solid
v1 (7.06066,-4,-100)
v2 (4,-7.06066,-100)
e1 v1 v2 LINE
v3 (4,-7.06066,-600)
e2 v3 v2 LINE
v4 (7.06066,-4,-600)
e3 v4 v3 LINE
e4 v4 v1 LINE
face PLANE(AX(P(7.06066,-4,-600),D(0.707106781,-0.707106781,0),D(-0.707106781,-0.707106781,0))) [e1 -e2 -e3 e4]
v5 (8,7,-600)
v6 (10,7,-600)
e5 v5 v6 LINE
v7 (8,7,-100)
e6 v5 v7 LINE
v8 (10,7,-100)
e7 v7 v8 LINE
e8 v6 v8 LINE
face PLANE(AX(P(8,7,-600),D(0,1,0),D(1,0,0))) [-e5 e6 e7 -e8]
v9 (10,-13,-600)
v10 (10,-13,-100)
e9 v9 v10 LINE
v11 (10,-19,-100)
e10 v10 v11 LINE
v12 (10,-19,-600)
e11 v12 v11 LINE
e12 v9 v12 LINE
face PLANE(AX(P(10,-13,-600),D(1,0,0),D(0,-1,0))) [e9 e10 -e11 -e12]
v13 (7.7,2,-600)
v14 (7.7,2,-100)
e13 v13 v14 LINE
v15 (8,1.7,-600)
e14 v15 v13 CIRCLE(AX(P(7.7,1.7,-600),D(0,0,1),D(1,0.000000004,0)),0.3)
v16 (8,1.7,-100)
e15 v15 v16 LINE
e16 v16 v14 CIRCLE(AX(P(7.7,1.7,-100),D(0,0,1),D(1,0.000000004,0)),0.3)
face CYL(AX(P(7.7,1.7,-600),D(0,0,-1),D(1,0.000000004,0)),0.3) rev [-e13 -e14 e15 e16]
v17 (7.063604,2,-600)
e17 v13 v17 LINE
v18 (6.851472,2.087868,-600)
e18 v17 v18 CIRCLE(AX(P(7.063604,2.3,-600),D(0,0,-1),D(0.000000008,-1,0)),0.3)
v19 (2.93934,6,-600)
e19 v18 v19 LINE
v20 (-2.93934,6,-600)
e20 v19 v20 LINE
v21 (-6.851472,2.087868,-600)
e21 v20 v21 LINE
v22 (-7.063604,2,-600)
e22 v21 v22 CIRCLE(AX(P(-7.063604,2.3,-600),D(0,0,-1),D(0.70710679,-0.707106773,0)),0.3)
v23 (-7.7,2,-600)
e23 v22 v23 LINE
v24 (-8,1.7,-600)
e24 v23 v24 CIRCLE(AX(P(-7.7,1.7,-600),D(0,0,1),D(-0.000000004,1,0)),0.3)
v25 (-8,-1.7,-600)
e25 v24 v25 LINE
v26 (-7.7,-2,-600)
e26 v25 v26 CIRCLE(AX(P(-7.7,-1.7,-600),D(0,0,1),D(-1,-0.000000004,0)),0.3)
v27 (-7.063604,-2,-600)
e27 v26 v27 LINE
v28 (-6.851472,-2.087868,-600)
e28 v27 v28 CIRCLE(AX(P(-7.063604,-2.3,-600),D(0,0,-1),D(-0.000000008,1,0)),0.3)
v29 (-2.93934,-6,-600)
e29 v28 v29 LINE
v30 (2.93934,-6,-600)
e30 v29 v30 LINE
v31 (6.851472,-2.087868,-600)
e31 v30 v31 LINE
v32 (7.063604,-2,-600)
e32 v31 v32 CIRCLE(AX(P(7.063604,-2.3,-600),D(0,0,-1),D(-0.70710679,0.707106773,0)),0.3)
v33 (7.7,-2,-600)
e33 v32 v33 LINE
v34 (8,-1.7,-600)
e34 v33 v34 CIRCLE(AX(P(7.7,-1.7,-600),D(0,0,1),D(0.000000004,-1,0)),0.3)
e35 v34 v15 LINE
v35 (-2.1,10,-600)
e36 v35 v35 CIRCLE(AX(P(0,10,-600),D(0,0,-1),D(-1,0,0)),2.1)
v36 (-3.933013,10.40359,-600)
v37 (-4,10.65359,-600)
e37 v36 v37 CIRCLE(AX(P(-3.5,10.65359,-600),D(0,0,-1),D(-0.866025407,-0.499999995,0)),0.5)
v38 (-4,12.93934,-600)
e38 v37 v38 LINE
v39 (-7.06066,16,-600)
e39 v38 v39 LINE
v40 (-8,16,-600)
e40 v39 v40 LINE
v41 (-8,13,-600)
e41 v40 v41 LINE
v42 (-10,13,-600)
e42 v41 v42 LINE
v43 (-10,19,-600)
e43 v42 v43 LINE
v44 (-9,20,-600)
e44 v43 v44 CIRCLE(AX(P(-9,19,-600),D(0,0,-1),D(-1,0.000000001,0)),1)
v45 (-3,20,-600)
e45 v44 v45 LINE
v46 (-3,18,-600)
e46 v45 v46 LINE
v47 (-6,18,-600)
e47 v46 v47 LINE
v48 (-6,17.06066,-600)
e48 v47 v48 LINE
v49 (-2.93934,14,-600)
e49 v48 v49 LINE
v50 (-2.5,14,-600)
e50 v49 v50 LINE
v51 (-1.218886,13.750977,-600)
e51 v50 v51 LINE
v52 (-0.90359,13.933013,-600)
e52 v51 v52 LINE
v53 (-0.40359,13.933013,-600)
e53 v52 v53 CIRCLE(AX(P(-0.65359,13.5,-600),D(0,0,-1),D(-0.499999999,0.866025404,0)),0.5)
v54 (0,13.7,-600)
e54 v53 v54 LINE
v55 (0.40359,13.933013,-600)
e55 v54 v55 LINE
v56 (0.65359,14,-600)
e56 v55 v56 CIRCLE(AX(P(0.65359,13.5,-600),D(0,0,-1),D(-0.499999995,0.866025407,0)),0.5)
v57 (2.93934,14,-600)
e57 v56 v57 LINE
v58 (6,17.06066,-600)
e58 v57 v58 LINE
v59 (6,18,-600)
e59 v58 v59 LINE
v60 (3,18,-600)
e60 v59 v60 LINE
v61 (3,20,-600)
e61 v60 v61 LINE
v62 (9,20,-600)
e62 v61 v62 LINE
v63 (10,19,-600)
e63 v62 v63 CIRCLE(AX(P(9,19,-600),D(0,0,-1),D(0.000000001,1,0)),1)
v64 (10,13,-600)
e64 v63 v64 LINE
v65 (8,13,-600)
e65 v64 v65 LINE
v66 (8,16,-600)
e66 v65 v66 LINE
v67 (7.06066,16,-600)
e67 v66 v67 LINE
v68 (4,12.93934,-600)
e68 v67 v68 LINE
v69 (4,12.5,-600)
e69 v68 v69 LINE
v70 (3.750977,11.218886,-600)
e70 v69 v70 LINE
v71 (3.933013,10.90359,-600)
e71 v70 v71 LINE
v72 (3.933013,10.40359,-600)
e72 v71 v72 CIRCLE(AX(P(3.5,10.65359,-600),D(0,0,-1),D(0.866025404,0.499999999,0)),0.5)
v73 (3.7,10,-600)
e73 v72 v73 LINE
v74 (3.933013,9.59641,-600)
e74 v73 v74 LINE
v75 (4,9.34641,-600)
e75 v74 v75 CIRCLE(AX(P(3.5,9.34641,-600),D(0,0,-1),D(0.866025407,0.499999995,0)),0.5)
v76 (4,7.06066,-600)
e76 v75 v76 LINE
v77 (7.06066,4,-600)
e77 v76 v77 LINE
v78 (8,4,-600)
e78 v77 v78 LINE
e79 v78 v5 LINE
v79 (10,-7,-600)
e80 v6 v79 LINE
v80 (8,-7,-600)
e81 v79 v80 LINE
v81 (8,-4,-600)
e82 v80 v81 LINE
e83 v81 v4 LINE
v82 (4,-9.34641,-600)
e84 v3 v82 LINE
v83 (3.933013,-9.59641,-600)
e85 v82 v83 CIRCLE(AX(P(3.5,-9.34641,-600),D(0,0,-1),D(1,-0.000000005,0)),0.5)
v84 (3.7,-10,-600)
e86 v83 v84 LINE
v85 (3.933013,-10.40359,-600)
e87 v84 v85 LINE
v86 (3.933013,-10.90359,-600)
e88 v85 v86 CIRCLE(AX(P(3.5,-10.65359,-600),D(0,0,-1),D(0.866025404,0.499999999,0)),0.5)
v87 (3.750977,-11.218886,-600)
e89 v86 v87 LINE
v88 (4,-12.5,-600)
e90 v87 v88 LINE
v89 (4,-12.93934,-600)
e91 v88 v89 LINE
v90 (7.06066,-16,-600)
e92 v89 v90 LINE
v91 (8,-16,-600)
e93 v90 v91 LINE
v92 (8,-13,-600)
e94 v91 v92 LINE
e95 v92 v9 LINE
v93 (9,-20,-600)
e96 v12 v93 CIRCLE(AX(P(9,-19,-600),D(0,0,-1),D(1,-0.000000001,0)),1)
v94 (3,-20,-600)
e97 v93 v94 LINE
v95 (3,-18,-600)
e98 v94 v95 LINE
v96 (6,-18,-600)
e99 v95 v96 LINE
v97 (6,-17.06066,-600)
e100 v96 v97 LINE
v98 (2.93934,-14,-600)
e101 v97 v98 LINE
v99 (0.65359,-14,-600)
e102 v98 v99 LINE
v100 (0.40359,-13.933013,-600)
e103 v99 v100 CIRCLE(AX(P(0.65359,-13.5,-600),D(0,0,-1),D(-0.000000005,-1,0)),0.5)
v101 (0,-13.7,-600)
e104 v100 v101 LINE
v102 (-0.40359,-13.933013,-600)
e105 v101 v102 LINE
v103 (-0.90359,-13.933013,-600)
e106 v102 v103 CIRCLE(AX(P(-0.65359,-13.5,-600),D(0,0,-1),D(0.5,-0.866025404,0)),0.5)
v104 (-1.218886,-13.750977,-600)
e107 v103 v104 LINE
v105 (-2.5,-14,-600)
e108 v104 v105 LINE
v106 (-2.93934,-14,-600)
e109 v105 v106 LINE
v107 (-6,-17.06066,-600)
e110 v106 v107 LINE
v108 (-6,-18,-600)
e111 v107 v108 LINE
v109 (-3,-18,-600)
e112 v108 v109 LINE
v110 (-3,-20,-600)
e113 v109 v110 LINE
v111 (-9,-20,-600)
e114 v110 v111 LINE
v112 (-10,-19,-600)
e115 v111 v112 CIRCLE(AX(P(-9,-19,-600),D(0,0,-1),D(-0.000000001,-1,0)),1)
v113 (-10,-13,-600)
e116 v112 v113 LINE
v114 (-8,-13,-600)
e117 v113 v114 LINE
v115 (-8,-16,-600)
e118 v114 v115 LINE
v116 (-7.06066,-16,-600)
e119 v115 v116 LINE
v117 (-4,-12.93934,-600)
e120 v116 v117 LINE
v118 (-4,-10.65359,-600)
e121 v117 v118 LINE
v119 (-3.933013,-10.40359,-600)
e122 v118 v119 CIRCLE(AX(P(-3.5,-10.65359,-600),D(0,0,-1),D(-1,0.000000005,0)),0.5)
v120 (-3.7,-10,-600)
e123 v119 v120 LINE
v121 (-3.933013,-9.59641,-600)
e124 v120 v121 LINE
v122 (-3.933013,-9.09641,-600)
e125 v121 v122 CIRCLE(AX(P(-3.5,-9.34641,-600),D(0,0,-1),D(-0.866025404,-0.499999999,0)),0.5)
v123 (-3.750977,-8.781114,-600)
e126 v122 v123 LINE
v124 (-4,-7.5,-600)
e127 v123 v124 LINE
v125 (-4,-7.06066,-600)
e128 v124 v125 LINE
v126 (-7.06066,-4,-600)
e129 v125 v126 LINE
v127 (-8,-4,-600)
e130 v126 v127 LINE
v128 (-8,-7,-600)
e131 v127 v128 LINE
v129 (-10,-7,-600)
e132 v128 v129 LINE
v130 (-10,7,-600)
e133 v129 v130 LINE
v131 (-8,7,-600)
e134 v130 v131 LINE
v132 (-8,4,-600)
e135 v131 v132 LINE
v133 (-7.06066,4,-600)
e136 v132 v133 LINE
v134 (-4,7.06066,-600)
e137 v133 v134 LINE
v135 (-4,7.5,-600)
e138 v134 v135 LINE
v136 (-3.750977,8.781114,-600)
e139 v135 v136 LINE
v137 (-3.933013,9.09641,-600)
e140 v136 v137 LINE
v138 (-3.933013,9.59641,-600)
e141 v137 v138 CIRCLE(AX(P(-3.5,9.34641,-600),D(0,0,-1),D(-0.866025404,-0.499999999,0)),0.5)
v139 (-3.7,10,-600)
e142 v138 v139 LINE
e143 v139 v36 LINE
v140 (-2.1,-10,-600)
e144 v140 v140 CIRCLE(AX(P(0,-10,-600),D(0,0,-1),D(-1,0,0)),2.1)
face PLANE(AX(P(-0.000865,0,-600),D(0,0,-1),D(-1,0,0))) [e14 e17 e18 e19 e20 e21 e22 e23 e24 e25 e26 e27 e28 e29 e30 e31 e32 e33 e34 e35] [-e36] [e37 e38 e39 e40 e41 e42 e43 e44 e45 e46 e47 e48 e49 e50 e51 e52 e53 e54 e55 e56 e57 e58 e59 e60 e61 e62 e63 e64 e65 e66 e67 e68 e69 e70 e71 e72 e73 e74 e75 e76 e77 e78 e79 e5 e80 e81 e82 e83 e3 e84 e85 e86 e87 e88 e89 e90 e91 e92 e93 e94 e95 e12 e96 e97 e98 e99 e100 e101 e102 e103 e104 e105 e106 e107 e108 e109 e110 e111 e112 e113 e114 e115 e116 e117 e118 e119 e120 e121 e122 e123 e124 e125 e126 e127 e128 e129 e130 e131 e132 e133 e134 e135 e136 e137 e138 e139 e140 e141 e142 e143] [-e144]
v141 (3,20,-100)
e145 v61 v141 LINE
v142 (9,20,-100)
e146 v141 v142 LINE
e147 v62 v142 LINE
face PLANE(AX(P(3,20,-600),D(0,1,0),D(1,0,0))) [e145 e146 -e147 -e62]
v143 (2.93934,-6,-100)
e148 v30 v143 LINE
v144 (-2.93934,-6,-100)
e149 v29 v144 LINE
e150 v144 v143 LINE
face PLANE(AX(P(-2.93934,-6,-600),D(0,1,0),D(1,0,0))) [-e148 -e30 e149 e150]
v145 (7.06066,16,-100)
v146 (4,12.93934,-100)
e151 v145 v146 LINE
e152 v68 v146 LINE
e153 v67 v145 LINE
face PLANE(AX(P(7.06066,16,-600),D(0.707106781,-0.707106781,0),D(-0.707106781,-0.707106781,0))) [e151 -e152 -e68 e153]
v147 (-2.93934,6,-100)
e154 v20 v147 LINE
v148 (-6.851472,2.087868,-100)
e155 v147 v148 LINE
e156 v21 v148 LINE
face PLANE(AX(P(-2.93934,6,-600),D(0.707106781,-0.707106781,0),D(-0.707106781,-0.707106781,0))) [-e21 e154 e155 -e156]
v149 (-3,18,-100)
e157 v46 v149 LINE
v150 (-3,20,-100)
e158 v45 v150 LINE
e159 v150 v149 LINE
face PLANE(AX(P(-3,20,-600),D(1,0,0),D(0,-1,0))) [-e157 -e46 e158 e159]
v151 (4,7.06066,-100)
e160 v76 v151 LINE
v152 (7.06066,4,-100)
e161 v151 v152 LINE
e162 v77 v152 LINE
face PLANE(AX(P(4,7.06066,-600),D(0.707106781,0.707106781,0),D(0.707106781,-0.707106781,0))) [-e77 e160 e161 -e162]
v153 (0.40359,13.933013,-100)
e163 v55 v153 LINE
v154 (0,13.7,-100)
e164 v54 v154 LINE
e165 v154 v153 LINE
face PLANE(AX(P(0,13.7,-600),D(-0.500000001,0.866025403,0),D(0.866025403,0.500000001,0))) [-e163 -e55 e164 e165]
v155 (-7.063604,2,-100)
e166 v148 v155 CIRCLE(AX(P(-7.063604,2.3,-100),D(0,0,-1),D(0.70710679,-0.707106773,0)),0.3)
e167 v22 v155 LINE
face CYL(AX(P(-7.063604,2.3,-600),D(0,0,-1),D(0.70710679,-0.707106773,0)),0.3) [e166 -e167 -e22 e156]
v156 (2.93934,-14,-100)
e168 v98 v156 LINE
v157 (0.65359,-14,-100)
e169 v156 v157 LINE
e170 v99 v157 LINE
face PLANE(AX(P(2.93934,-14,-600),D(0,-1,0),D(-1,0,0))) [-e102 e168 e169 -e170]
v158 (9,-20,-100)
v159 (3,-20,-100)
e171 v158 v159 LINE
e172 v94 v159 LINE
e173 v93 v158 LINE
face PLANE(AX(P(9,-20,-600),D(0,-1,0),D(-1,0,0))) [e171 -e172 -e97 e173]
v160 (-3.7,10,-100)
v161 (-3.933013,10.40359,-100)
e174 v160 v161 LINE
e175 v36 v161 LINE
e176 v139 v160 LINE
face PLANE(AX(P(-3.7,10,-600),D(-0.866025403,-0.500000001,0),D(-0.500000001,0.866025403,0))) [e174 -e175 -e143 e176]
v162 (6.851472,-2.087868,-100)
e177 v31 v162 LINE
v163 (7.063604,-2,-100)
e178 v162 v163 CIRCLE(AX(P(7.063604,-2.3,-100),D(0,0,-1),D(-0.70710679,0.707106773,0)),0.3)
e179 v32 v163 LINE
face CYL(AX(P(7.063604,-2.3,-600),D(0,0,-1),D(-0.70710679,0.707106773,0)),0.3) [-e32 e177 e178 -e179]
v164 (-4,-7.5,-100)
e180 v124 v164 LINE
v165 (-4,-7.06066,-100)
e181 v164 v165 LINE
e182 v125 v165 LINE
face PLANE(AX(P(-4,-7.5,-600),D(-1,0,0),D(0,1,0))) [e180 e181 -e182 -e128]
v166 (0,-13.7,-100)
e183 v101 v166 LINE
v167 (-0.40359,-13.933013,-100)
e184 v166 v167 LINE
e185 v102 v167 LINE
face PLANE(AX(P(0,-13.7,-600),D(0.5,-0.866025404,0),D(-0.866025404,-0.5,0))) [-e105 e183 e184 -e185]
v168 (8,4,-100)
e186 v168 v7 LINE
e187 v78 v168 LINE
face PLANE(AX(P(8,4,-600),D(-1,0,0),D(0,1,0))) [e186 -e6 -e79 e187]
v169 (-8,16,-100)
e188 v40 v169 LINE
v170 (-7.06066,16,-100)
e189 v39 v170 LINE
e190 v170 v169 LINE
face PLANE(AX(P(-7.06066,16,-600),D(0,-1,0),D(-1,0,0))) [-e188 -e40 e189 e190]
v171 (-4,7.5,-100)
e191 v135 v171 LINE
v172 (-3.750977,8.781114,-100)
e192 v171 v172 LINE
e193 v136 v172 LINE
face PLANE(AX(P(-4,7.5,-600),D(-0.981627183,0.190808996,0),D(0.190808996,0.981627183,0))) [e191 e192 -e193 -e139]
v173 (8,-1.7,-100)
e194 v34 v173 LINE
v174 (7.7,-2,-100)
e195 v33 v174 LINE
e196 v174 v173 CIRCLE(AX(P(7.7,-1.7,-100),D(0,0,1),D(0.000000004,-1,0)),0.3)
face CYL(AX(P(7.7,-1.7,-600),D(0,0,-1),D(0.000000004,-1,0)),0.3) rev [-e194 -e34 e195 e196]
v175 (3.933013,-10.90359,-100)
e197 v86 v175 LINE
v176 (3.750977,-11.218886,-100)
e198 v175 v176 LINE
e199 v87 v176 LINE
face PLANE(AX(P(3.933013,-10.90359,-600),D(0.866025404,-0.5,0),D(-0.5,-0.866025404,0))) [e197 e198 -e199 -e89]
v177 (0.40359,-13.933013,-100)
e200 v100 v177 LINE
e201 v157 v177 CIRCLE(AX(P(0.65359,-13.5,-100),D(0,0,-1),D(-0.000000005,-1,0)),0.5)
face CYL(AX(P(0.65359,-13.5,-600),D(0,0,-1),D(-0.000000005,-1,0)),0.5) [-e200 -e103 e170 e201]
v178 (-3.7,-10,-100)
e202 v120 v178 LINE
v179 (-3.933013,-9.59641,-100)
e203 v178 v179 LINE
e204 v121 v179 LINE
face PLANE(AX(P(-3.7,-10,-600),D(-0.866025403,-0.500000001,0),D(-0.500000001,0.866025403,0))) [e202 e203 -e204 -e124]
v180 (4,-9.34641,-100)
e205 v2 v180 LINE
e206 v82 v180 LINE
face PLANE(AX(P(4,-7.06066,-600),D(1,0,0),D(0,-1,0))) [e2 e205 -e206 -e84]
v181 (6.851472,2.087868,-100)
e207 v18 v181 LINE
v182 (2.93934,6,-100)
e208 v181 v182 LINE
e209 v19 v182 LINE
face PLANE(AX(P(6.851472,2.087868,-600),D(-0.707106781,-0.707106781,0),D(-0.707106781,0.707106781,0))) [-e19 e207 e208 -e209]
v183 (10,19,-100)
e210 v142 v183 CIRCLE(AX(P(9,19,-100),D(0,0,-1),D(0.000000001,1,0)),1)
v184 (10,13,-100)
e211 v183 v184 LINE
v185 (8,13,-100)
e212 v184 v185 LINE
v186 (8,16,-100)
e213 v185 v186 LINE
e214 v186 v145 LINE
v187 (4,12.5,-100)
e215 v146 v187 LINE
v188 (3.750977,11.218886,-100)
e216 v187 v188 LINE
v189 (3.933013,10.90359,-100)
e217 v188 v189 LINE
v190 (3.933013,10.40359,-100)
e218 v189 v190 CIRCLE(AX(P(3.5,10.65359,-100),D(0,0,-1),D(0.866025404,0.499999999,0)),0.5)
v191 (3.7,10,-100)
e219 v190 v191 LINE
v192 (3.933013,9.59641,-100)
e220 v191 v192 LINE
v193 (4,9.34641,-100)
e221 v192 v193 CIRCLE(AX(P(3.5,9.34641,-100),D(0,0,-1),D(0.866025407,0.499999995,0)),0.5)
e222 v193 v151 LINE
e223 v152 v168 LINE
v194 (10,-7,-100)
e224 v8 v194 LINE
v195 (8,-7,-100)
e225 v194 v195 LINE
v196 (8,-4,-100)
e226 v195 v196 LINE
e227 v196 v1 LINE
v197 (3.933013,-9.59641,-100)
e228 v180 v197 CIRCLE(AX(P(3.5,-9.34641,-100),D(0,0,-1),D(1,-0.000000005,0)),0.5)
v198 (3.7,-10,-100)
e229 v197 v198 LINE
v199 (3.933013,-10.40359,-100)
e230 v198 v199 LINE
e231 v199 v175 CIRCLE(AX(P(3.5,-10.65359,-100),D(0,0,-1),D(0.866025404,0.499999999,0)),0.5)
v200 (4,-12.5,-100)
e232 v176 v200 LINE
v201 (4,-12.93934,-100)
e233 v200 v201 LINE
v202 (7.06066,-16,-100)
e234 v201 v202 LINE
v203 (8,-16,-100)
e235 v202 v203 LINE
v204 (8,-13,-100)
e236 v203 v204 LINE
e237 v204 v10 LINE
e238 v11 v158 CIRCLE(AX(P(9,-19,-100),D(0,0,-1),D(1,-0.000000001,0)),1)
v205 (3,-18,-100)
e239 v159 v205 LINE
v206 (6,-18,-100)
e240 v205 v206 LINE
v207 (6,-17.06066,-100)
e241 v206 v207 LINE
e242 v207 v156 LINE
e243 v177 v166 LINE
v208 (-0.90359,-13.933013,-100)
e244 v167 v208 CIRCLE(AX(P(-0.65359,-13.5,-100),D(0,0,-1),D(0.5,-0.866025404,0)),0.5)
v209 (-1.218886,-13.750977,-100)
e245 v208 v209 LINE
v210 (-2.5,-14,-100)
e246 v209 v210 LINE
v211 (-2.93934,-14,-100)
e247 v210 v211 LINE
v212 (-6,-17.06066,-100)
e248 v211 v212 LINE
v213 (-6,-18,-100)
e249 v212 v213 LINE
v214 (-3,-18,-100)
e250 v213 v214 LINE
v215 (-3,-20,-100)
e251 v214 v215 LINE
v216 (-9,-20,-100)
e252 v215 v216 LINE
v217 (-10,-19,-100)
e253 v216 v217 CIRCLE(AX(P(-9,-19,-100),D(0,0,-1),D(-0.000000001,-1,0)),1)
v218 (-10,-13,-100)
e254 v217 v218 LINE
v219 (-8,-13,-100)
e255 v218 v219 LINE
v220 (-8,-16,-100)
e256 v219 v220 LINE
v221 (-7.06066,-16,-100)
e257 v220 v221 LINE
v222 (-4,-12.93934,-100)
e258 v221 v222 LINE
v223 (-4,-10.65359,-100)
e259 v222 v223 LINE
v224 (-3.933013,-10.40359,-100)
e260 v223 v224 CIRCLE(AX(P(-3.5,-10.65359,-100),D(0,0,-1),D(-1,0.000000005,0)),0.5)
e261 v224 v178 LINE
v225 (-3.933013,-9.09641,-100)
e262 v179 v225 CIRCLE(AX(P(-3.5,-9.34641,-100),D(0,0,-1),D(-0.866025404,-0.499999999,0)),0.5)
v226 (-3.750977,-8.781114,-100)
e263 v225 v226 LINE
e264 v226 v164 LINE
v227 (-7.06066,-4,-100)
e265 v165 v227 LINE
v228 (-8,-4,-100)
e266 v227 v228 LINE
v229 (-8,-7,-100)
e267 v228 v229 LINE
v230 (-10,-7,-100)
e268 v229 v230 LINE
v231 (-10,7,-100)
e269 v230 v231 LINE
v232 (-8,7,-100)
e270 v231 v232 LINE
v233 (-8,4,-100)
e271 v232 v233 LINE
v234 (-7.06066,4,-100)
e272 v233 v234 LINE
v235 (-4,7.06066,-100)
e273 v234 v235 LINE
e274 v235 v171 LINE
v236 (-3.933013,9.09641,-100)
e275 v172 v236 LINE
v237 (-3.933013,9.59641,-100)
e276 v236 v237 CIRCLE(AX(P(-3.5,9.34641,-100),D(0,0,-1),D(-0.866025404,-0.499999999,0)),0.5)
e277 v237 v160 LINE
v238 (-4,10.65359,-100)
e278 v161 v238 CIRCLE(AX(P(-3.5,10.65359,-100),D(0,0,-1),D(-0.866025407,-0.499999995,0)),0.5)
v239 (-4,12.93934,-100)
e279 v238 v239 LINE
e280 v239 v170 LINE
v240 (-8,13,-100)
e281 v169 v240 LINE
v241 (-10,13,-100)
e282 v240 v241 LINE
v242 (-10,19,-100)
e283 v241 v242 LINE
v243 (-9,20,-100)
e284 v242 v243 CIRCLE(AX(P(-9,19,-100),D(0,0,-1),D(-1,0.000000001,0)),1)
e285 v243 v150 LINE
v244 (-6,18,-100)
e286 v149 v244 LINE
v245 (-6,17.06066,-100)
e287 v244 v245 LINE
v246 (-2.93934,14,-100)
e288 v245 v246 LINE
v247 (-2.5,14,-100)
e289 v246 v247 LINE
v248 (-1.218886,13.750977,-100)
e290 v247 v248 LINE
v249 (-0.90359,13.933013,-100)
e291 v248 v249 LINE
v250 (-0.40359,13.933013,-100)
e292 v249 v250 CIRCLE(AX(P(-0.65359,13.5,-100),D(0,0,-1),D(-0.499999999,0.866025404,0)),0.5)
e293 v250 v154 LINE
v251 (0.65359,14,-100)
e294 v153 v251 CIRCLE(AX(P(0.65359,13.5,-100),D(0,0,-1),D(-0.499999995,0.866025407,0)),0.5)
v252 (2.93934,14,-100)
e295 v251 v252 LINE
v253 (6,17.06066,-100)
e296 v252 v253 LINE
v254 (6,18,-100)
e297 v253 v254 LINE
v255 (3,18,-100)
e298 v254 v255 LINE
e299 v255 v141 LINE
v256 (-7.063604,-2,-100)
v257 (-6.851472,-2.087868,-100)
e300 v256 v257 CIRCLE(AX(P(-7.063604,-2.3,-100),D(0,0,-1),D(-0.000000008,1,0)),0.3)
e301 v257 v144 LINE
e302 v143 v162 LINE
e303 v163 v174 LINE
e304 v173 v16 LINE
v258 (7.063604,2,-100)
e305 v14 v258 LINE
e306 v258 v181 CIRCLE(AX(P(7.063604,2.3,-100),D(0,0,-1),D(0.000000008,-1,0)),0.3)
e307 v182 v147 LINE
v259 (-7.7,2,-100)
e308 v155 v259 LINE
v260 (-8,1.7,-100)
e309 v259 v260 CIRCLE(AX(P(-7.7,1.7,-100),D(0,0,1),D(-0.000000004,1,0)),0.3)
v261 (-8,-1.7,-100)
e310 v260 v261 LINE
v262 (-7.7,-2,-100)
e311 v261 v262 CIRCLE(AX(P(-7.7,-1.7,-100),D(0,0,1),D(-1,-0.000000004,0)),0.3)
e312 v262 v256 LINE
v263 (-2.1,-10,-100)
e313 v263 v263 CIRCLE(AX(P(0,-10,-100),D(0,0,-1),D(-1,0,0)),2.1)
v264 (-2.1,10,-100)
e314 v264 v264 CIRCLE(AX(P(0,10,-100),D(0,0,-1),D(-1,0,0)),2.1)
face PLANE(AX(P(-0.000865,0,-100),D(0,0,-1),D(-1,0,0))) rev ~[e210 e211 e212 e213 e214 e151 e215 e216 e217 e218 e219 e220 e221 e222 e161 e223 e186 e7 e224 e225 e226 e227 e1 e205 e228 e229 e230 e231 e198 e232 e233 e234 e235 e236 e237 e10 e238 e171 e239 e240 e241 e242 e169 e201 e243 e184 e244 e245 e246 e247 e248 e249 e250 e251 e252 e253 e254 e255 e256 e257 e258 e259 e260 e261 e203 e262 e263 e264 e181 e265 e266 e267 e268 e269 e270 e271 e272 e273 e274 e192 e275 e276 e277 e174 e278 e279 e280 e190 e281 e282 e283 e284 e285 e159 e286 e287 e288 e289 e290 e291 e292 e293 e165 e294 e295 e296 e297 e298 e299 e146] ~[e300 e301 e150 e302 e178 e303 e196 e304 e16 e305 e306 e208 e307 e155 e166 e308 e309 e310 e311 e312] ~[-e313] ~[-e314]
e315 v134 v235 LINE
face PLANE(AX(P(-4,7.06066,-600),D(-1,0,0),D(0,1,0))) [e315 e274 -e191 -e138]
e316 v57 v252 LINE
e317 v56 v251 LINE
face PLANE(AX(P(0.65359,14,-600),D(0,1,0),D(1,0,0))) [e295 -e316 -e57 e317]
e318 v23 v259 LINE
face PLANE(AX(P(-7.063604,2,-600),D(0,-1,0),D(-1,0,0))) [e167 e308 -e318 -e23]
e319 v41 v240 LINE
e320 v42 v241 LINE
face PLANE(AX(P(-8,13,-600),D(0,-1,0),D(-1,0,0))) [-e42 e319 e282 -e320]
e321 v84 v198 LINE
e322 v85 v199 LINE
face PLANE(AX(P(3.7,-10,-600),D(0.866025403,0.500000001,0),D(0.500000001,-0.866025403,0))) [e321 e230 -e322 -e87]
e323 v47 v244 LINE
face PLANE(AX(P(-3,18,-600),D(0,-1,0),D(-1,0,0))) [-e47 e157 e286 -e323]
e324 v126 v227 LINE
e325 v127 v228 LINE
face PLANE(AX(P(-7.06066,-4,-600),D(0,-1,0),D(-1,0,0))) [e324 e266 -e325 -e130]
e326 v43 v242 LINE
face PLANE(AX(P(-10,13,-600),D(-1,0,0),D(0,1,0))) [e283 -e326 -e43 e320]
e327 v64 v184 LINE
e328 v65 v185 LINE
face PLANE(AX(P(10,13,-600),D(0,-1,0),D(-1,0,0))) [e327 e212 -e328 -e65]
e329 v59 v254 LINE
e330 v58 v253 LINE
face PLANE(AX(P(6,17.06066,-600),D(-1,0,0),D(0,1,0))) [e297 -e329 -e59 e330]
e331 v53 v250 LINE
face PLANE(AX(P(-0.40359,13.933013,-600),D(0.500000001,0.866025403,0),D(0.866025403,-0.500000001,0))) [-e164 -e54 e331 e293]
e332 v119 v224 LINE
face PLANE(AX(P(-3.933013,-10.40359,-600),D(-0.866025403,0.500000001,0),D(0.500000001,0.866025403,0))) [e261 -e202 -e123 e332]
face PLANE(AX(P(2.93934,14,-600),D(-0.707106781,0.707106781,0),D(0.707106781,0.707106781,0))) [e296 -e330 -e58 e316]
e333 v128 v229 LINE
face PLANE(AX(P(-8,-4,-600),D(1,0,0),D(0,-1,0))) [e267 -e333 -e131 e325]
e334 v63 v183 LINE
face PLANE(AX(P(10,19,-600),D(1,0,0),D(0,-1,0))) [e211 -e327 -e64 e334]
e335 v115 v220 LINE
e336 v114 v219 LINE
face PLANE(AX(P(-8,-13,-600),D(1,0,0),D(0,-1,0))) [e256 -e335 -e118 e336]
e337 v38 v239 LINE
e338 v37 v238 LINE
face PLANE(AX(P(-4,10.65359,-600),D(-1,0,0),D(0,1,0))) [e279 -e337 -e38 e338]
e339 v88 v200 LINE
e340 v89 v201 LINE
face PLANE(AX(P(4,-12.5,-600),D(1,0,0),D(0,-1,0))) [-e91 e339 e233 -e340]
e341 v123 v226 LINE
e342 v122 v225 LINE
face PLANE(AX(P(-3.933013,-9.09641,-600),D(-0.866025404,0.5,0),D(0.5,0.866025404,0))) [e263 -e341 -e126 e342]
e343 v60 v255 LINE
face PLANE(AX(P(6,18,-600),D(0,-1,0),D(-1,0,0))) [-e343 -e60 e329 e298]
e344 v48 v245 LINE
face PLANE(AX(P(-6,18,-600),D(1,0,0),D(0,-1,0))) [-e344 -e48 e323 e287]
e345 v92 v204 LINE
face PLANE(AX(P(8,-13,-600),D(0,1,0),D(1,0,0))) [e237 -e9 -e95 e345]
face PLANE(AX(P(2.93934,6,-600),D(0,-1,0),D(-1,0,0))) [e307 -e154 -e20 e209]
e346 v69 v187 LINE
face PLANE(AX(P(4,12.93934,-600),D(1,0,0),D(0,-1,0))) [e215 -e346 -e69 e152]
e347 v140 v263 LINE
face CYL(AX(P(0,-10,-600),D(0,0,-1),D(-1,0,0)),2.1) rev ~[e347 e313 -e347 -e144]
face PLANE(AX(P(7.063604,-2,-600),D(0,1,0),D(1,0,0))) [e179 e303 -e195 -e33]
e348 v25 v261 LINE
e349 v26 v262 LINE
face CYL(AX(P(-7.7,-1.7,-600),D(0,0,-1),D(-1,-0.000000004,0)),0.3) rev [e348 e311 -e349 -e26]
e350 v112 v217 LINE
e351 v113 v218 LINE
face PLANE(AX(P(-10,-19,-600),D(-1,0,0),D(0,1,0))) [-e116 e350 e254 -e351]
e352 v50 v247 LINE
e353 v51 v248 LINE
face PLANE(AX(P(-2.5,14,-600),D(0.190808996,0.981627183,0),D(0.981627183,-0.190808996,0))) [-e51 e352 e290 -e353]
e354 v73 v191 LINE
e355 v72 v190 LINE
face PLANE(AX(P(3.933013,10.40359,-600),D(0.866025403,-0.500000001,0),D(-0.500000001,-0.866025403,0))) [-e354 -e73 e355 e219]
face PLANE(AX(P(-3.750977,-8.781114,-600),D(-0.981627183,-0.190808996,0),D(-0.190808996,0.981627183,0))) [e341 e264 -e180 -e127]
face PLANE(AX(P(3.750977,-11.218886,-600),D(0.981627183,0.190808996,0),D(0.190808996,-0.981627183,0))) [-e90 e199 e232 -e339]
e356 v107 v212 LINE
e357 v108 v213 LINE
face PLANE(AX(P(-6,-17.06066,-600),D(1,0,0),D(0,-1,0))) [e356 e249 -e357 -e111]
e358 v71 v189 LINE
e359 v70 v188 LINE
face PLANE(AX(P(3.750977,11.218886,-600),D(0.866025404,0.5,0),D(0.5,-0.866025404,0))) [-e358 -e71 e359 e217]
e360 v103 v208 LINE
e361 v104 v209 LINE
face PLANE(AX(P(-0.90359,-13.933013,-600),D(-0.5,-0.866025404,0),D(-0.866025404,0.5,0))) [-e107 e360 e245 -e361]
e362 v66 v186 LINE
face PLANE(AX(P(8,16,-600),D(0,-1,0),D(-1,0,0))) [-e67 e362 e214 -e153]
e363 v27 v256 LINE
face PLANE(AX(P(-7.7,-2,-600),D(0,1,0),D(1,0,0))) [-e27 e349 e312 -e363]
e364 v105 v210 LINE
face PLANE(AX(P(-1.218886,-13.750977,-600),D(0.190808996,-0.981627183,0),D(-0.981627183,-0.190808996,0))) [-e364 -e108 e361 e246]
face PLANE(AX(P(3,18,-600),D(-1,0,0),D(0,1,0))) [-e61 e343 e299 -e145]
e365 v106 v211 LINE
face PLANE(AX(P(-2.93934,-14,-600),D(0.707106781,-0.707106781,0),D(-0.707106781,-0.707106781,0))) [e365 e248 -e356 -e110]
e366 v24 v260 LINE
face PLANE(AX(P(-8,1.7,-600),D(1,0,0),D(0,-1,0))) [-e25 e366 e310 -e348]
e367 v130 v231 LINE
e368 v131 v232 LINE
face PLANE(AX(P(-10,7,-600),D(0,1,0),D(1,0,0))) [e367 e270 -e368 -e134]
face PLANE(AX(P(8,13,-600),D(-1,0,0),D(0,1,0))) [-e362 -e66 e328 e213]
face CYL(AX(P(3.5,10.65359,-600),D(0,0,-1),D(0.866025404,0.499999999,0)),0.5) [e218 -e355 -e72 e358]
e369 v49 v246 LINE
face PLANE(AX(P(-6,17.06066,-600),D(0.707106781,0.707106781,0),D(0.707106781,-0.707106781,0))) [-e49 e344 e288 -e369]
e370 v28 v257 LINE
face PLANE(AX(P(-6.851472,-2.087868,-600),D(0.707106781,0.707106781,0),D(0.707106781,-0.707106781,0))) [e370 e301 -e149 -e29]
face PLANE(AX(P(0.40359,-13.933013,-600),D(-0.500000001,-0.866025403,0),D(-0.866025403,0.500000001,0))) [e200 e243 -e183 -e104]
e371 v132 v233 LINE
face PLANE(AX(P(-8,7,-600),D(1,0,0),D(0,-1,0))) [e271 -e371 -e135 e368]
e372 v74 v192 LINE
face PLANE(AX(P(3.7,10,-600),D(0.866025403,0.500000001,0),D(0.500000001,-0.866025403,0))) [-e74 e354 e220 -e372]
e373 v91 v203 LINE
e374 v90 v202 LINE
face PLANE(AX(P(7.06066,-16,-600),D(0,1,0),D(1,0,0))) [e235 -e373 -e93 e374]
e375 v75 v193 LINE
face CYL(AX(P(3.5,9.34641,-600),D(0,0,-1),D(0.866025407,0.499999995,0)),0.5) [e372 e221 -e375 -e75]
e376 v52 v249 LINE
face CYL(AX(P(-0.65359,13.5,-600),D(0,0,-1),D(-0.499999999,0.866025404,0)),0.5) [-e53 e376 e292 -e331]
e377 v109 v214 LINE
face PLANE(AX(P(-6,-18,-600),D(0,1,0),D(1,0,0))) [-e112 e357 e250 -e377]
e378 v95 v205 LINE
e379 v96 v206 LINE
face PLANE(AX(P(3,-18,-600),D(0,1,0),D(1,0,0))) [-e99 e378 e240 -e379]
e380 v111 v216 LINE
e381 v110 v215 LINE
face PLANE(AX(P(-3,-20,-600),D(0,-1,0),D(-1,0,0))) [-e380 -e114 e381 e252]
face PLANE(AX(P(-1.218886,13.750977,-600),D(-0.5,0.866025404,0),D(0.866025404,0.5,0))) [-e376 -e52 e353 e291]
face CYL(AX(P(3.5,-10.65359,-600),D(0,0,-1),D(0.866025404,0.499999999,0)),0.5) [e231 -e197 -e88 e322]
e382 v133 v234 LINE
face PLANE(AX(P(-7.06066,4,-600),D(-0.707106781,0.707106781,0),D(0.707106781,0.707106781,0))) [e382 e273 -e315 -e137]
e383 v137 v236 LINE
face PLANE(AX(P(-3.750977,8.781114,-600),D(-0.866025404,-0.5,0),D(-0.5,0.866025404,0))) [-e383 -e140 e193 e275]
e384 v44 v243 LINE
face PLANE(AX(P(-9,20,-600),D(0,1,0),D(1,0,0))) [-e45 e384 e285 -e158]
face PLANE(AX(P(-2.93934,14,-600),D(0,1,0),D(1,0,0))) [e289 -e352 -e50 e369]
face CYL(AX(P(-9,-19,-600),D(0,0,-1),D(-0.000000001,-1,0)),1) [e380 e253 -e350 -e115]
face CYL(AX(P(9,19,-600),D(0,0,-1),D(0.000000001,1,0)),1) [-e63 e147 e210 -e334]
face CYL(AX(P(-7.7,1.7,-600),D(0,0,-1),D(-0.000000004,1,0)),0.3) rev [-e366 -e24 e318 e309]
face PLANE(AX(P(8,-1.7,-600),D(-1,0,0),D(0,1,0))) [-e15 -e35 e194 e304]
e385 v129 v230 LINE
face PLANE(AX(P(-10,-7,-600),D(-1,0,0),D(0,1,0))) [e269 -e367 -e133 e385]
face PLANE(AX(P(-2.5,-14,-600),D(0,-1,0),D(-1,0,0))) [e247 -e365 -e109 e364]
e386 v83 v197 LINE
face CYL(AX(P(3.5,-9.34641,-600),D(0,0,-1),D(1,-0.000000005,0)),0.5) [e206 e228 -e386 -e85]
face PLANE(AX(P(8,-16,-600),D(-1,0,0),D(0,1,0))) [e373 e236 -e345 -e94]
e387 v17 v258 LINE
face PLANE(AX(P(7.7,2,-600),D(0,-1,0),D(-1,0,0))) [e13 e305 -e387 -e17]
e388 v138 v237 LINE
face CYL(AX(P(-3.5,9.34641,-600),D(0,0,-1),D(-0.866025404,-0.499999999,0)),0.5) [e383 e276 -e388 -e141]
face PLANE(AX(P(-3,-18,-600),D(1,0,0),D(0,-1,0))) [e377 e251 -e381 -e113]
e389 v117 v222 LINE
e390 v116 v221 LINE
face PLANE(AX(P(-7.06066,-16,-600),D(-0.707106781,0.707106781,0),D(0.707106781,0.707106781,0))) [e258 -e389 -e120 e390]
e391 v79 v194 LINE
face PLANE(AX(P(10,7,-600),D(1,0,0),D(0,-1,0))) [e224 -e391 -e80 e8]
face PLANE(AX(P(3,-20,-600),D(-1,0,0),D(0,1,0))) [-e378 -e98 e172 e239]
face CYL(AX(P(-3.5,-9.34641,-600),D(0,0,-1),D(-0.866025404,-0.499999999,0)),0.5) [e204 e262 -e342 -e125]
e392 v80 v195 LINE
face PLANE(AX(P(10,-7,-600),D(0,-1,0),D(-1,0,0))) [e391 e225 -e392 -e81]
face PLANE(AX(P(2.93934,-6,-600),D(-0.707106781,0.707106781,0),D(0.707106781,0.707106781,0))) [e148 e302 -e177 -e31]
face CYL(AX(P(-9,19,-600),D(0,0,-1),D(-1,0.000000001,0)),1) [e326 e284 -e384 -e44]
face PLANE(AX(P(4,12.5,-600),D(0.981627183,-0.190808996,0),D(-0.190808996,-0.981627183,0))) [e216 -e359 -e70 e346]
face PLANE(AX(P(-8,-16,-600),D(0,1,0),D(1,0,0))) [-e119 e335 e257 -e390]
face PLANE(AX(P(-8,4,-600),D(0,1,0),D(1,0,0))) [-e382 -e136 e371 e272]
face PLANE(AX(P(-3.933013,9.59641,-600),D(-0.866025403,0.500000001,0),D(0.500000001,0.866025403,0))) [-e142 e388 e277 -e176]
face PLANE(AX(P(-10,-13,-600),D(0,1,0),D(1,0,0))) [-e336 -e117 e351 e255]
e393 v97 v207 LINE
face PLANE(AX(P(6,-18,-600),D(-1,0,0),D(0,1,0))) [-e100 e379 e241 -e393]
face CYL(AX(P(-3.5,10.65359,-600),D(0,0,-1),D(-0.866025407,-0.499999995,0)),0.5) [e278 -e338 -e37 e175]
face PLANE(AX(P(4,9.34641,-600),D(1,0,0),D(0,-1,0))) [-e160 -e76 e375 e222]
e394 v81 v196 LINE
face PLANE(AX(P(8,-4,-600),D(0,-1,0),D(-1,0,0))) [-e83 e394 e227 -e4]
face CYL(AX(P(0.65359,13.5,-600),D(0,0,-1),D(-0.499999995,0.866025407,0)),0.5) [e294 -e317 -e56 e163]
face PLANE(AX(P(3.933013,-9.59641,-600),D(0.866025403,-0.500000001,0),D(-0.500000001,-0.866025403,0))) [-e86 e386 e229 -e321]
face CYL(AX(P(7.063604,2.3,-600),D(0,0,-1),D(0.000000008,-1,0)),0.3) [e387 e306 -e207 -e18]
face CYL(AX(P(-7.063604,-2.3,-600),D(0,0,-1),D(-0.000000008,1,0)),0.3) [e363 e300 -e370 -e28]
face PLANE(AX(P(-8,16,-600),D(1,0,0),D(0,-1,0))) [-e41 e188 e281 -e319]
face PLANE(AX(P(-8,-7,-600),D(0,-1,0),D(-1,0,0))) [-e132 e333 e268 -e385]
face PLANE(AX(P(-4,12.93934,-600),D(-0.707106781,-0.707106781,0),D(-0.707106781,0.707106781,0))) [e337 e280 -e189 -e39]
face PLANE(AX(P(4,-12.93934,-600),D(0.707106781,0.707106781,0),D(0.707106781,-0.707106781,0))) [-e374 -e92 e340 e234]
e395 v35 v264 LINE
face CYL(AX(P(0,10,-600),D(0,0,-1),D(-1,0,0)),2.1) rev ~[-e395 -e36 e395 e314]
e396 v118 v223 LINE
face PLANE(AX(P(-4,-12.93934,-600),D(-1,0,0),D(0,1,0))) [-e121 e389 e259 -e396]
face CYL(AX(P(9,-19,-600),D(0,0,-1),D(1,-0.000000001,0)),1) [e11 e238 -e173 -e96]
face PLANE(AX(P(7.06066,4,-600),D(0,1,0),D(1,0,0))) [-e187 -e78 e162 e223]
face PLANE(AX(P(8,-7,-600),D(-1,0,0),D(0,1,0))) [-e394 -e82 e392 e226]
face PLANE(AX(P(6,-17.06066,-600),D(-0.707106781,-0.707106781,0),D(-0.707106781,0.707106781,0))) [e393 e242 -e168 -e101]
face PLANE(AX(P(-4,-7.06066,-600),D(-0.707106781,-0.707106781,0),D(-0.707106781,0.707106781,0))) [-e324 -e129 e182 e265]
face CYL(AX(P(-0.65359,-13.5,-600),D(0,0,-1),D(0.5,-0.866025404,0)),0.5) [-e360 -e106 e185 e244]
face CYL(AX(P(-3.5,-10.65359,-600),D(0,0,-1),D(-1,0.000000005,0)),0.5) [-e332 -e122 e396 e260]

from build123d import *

# Parameters (mm, degrees)
SKETCH1_R           = 2.1
BOSS_EXTRUDE1_DEPTH = 500


with BuildPart() as part:
    # Sketch1 → Boss-Extrude1 (new body)
    with BuildSketch(Plane(origin=(0, 0, -600), x_dir=(-1, 0, 0), z_dir=(0, 0, -1))):
        with BuildLine():
            Line((10, -7), (10, 7))
            Line((10, 7), (8, 7))
            Line((8, 7), (8, 4))
            Line((8, 4), (7.060660172, 4))
            Line((7.060660172, 4), (4, 7.060660172))
            Line((4, 7.060660172), (4, 7.5))
            Line((4, 7.5), (3.750976592, 8.781114371))
            Line((3.750976592, 8.781114371), (3.933012702, 9.096410162))
            ThreePointArc((3.933012702, 9.096410162), (4, 9.346410162), (3.933012702, 9.596410162))
            Line((3.933012702, 9.596410162), (3.7, 10))
            Line((3.7, 10), (3.933012702, 10.403589838))
            ThreePointArc((3.933012702, 10.403589838), (3.982962913, 10.524180316), (4, 10.653589838))
            Line((4, 10.653589838), (4, 12.939339828))
            Line((4, 12.939339828), (7.060660172, 16))
            Line((7.060660172, 16), (8, 16))
            Line((8, 16), (8, 13))
            Line((8, 13), (10, 13))
            Line((10, 13), (10, 19))
            ThreePointArc((10, 19), (9.707106781, 19.707106781), (9, 20))
            Line((9, 20), (3, 20))
            Line((3, 20), (3, 18))
            Line((3, 18), (6, 18))
            Line((6, 18), (6, 17.060660172))
            Line((6, 17.060660172), (2.939339828, 14))
            Line((2.939339828, 14), (2.5, 14))
            Line((2.5, 14), (1.218885629, 13.750976592))
            Line((1.218885629, 13.750976592), (0.903589838, 13.933012702))
            ThreePointArc((0.903589838, 13.933012702), (0.653589838, 14), (0.403589838, 13.933012702))
            Line((0.403589838, 13.933012702), (0, 13.7))
            Line((0, 13.7), (-0.403589838, 13.933012702))
            ThreePointArc((-0.403589838, 13.933012702), (-0.524180316, 13.982962913), (-0.653589838, 14))
            Line((-0.653589838, 14), (-2.939339828, 14))
            Line((-2.939339828, 14), (-6, 17.060660172))
            Line((-6, 17.060660172), (-6, 18))
            Line((-6, 18), (-3, 18))
            Line((-3, 18), (-3, 20))
            Line((-3, 20), (-9, 20))
            ThreePointArc((-9, 20), (-9.707106781, 19.707106781), (-10, 19))
            Line((-10, 19), (-10, 13))
            Line((-10, 13), (-8, 13))
            Line((-8, 13), (-8, 16))
            Line((-8, 16), (-7.060660172, 16))
            Line((-7.060660172, 16), (-4, 12.939339828))
            Line((-4, 12.939339828), (-4, 12.5))
            Line((-4, 12.5), (-3.750976592, 11.218885629))
            Line((-3.750976592, 11.218885629), (-3.933012702, 10.903589838))
            ThreePointArc((-3.933012702, 10.903589838), (-4, 10.653589838), (-3.933012702, 10.403589838))
            Line((-3.933012702, 10.403589838), (-3.7, 10))
            Line((-3.7, 10), (-3.933012702, 9.596410162))
            ThreePointArc((-3.933012702, 9.596410162), (-3.982962913, 9.475819684), (-4, 9.346410162))
            Line((-4, 9.346410162), (-4, 7.060660172))
            Line((-4, 7.060660172), (-7.060660172, 4))
            Line((-7.060660172, 4), (-8, 4))
            Line((-8, 4), (-8, 7))
            Line((-8, 7), (-10, 7))
            Line((-10, 7), (-10, -7))
            Line((-10, -7), (-8, -7))
            Line((-8, -7), (-8, -4))
            Line((-8, -4), (-7.060660172, -4))
            Line((-7.060660172, -4), (-4, -7.060660172))
            Line((-4, -7.060660172), (-4, -9.346410162))
            ThreePointArc((-4, -9.346410162), (-3.982962913, -9.475819684), (-3.933012702, -9.596410162))
            Line((-3.933012702, -9.596410162), (-3.7, -10))
            Line((-3.7, -10), (-3.933012702, -10.403589838))
            ThreePointArc((-3.933012702, -10.403589838), (-4, -10.653589838), (-3.933012702, -10.903589838))
            Line((-3.933012702, -10.903589838), (-3.750976592, -11.218885629))
            Line((-3.750976592, -11.218885629), (-4, -12.5))
            Line((-4, -12.5), (-4, -12.939339828))
            Line((-4, -12.939339828), (-7.060660172, -16))
            Line((-7.060660172, -16), (-8, -16))
            Line((-8, -16), (-8, -13))
            Line((-8, -13), (-10, -13))
            Line((-10, -13), (-10, -19))
            ThreePointArc((-10, -19), (-9.707106781, -19.707106781), (-9, -20))
            Line((-9, -20), (-3, -20))
            Line((-3, -20), (-3, -18))
            Line((-3, -18), (-6, -18))
            Line((-6, -18), (-6, -17.060660172))
            Line((-6, -17.060660172), (-2.939339828, -14))
            Line((-2.939339828, -14), (-0.653589838, -14))
            ThreePointArc((-0.653589838, -14), (-0.524180316, -13.982962913), (-0.403589838, -13.933012702))
            Line((-0.403589838, -13.933012702), (0, -13.7))
            Line((0, -13.7), (0.403589839, -13.933012702))
            ThreePointArc((0.403589839, -13.933012702), (0.653589839, -14), (0.903589838, -13.933012702))
            Line((0.903589838, -13.933012702), (1.218885629, -13.750976592))
            Line((1.218885629, -13.750976592), (2.5, -14))
            Line((2.5, -14), (2.939339828, -14))
            Line((2.939339828, -14), (6, -17.060660172))
            Line((6, -17.060660172), (6, -18))
            Line((6, -18), (3, -18))
            Line((3, -18), (3, -20))
            Line((3, -20), (9, -20))
            ThreePointArc((9, -20), (9.707106781, -19.707106781), (10, -19))
            Line((10, -19), (10, -13))
            Line((10, -13), (8, -13))
            Line((8, -13), (8, -16))
            Line((8, -16), (7.060660172, -16))
            Line((7.060660172, -16), (4, -12.939339828))
            Line((4, -12.939339828), (4, -10.653589838))
            ThreePointArc((4, -10.653589838), (3.982962913, -10.524180316), (3.933012702, -10.403589838))
            Line((3.933012702, -10.403589838), (3.7, -10))
            Line((3.7, -10), (3.933012702, -9.596410162))
            ThreePointArc((3.933012702, -9.596410162), (4, -9.346410162), (3.933012702, -9.096410162))
            Line((3.933012702, -9.096410162), (3.750976592, -8.781114371))
            Line((3.750976592, -8.781114371), (4, -7.5))
            Line((4, -7.5), (4, -7.060660172))
            Line((4, -7.060660172), (7.060660172, -4))
            Line((7.060660172, -4), (8, -4))
            Line((8, -4), (8, -7))
            Line((8, -7), (10, -7))
        make_face()
        with Locations((0, -10)):
            Circle(SKETCH1_R, mode=Mode.SUBTRACT)
        with Locations((0, 10)):
            Circle(SKETCH1_R, mode=Mode.SUBTRACT)
        with BuildLine():
            Line((8, 1.7), (8, -1.7))
            ThreePointArc((8, -1.7), (7.912132034, -1.912132034), (7.7, -2))
            Line((7.7, -2), (7.063603897, -2))
            ThreePointArc((7.063603897, -2), (6.948798867, -2.02283614), (6.851471863, -2.087867966))
            Line((6.851471863, -2.087867966), (2.939339828, -6))
            Line((2.939339828, -6), (-2.939339828, -6))
            Line((-2.939339828, -6), (-6.851471863, -2.087867966))
            ThreePointArc((-6.851471863, -2.087867966), (-6.948798867, -2.02283614), (-7.063603897, -2))
            Line((-7.063603897, -2), (-7.7, -2))
            ThreePointArc((-7.7, -2), (-7.912132034, -1.912132034), (-8, -1.7))
            Line((-8, -1.7), (-8, 1.7))
            ThreePointArc((-8, 1.7), (-7.912132034, 1.912132034), (-7.7, 2))
            Line((-7.7, 2), (-7.063603897, 2))
            ThreePointArc((-7.063603897, 2), (-6.948798867, 2.02283614), (-6.851471863, 2.087867966))
            Line((-6.851471863, 2.087867966), (-2.939339828, 6))
            Line((-2.939339828, 6), (2.939339828, 6))
            Line((2.939339828, 6), (6.851471863, 2.087867966))
            ThreePointArc((6.851471863, 2.087867966), (6.948798867, 2.02283614), (7.063603897, 2))
            Line((7.063603897, 2), (7.7, 2))
            ThreePointArc((7.7, 2), (7.912132034, 1.912132034), (8, 1.7))
        make_face(mode=Mode.SUBTRACT)
    extrude(amount=-BOSS_EXTRUDE1_DEPTH)


solid = part.part
